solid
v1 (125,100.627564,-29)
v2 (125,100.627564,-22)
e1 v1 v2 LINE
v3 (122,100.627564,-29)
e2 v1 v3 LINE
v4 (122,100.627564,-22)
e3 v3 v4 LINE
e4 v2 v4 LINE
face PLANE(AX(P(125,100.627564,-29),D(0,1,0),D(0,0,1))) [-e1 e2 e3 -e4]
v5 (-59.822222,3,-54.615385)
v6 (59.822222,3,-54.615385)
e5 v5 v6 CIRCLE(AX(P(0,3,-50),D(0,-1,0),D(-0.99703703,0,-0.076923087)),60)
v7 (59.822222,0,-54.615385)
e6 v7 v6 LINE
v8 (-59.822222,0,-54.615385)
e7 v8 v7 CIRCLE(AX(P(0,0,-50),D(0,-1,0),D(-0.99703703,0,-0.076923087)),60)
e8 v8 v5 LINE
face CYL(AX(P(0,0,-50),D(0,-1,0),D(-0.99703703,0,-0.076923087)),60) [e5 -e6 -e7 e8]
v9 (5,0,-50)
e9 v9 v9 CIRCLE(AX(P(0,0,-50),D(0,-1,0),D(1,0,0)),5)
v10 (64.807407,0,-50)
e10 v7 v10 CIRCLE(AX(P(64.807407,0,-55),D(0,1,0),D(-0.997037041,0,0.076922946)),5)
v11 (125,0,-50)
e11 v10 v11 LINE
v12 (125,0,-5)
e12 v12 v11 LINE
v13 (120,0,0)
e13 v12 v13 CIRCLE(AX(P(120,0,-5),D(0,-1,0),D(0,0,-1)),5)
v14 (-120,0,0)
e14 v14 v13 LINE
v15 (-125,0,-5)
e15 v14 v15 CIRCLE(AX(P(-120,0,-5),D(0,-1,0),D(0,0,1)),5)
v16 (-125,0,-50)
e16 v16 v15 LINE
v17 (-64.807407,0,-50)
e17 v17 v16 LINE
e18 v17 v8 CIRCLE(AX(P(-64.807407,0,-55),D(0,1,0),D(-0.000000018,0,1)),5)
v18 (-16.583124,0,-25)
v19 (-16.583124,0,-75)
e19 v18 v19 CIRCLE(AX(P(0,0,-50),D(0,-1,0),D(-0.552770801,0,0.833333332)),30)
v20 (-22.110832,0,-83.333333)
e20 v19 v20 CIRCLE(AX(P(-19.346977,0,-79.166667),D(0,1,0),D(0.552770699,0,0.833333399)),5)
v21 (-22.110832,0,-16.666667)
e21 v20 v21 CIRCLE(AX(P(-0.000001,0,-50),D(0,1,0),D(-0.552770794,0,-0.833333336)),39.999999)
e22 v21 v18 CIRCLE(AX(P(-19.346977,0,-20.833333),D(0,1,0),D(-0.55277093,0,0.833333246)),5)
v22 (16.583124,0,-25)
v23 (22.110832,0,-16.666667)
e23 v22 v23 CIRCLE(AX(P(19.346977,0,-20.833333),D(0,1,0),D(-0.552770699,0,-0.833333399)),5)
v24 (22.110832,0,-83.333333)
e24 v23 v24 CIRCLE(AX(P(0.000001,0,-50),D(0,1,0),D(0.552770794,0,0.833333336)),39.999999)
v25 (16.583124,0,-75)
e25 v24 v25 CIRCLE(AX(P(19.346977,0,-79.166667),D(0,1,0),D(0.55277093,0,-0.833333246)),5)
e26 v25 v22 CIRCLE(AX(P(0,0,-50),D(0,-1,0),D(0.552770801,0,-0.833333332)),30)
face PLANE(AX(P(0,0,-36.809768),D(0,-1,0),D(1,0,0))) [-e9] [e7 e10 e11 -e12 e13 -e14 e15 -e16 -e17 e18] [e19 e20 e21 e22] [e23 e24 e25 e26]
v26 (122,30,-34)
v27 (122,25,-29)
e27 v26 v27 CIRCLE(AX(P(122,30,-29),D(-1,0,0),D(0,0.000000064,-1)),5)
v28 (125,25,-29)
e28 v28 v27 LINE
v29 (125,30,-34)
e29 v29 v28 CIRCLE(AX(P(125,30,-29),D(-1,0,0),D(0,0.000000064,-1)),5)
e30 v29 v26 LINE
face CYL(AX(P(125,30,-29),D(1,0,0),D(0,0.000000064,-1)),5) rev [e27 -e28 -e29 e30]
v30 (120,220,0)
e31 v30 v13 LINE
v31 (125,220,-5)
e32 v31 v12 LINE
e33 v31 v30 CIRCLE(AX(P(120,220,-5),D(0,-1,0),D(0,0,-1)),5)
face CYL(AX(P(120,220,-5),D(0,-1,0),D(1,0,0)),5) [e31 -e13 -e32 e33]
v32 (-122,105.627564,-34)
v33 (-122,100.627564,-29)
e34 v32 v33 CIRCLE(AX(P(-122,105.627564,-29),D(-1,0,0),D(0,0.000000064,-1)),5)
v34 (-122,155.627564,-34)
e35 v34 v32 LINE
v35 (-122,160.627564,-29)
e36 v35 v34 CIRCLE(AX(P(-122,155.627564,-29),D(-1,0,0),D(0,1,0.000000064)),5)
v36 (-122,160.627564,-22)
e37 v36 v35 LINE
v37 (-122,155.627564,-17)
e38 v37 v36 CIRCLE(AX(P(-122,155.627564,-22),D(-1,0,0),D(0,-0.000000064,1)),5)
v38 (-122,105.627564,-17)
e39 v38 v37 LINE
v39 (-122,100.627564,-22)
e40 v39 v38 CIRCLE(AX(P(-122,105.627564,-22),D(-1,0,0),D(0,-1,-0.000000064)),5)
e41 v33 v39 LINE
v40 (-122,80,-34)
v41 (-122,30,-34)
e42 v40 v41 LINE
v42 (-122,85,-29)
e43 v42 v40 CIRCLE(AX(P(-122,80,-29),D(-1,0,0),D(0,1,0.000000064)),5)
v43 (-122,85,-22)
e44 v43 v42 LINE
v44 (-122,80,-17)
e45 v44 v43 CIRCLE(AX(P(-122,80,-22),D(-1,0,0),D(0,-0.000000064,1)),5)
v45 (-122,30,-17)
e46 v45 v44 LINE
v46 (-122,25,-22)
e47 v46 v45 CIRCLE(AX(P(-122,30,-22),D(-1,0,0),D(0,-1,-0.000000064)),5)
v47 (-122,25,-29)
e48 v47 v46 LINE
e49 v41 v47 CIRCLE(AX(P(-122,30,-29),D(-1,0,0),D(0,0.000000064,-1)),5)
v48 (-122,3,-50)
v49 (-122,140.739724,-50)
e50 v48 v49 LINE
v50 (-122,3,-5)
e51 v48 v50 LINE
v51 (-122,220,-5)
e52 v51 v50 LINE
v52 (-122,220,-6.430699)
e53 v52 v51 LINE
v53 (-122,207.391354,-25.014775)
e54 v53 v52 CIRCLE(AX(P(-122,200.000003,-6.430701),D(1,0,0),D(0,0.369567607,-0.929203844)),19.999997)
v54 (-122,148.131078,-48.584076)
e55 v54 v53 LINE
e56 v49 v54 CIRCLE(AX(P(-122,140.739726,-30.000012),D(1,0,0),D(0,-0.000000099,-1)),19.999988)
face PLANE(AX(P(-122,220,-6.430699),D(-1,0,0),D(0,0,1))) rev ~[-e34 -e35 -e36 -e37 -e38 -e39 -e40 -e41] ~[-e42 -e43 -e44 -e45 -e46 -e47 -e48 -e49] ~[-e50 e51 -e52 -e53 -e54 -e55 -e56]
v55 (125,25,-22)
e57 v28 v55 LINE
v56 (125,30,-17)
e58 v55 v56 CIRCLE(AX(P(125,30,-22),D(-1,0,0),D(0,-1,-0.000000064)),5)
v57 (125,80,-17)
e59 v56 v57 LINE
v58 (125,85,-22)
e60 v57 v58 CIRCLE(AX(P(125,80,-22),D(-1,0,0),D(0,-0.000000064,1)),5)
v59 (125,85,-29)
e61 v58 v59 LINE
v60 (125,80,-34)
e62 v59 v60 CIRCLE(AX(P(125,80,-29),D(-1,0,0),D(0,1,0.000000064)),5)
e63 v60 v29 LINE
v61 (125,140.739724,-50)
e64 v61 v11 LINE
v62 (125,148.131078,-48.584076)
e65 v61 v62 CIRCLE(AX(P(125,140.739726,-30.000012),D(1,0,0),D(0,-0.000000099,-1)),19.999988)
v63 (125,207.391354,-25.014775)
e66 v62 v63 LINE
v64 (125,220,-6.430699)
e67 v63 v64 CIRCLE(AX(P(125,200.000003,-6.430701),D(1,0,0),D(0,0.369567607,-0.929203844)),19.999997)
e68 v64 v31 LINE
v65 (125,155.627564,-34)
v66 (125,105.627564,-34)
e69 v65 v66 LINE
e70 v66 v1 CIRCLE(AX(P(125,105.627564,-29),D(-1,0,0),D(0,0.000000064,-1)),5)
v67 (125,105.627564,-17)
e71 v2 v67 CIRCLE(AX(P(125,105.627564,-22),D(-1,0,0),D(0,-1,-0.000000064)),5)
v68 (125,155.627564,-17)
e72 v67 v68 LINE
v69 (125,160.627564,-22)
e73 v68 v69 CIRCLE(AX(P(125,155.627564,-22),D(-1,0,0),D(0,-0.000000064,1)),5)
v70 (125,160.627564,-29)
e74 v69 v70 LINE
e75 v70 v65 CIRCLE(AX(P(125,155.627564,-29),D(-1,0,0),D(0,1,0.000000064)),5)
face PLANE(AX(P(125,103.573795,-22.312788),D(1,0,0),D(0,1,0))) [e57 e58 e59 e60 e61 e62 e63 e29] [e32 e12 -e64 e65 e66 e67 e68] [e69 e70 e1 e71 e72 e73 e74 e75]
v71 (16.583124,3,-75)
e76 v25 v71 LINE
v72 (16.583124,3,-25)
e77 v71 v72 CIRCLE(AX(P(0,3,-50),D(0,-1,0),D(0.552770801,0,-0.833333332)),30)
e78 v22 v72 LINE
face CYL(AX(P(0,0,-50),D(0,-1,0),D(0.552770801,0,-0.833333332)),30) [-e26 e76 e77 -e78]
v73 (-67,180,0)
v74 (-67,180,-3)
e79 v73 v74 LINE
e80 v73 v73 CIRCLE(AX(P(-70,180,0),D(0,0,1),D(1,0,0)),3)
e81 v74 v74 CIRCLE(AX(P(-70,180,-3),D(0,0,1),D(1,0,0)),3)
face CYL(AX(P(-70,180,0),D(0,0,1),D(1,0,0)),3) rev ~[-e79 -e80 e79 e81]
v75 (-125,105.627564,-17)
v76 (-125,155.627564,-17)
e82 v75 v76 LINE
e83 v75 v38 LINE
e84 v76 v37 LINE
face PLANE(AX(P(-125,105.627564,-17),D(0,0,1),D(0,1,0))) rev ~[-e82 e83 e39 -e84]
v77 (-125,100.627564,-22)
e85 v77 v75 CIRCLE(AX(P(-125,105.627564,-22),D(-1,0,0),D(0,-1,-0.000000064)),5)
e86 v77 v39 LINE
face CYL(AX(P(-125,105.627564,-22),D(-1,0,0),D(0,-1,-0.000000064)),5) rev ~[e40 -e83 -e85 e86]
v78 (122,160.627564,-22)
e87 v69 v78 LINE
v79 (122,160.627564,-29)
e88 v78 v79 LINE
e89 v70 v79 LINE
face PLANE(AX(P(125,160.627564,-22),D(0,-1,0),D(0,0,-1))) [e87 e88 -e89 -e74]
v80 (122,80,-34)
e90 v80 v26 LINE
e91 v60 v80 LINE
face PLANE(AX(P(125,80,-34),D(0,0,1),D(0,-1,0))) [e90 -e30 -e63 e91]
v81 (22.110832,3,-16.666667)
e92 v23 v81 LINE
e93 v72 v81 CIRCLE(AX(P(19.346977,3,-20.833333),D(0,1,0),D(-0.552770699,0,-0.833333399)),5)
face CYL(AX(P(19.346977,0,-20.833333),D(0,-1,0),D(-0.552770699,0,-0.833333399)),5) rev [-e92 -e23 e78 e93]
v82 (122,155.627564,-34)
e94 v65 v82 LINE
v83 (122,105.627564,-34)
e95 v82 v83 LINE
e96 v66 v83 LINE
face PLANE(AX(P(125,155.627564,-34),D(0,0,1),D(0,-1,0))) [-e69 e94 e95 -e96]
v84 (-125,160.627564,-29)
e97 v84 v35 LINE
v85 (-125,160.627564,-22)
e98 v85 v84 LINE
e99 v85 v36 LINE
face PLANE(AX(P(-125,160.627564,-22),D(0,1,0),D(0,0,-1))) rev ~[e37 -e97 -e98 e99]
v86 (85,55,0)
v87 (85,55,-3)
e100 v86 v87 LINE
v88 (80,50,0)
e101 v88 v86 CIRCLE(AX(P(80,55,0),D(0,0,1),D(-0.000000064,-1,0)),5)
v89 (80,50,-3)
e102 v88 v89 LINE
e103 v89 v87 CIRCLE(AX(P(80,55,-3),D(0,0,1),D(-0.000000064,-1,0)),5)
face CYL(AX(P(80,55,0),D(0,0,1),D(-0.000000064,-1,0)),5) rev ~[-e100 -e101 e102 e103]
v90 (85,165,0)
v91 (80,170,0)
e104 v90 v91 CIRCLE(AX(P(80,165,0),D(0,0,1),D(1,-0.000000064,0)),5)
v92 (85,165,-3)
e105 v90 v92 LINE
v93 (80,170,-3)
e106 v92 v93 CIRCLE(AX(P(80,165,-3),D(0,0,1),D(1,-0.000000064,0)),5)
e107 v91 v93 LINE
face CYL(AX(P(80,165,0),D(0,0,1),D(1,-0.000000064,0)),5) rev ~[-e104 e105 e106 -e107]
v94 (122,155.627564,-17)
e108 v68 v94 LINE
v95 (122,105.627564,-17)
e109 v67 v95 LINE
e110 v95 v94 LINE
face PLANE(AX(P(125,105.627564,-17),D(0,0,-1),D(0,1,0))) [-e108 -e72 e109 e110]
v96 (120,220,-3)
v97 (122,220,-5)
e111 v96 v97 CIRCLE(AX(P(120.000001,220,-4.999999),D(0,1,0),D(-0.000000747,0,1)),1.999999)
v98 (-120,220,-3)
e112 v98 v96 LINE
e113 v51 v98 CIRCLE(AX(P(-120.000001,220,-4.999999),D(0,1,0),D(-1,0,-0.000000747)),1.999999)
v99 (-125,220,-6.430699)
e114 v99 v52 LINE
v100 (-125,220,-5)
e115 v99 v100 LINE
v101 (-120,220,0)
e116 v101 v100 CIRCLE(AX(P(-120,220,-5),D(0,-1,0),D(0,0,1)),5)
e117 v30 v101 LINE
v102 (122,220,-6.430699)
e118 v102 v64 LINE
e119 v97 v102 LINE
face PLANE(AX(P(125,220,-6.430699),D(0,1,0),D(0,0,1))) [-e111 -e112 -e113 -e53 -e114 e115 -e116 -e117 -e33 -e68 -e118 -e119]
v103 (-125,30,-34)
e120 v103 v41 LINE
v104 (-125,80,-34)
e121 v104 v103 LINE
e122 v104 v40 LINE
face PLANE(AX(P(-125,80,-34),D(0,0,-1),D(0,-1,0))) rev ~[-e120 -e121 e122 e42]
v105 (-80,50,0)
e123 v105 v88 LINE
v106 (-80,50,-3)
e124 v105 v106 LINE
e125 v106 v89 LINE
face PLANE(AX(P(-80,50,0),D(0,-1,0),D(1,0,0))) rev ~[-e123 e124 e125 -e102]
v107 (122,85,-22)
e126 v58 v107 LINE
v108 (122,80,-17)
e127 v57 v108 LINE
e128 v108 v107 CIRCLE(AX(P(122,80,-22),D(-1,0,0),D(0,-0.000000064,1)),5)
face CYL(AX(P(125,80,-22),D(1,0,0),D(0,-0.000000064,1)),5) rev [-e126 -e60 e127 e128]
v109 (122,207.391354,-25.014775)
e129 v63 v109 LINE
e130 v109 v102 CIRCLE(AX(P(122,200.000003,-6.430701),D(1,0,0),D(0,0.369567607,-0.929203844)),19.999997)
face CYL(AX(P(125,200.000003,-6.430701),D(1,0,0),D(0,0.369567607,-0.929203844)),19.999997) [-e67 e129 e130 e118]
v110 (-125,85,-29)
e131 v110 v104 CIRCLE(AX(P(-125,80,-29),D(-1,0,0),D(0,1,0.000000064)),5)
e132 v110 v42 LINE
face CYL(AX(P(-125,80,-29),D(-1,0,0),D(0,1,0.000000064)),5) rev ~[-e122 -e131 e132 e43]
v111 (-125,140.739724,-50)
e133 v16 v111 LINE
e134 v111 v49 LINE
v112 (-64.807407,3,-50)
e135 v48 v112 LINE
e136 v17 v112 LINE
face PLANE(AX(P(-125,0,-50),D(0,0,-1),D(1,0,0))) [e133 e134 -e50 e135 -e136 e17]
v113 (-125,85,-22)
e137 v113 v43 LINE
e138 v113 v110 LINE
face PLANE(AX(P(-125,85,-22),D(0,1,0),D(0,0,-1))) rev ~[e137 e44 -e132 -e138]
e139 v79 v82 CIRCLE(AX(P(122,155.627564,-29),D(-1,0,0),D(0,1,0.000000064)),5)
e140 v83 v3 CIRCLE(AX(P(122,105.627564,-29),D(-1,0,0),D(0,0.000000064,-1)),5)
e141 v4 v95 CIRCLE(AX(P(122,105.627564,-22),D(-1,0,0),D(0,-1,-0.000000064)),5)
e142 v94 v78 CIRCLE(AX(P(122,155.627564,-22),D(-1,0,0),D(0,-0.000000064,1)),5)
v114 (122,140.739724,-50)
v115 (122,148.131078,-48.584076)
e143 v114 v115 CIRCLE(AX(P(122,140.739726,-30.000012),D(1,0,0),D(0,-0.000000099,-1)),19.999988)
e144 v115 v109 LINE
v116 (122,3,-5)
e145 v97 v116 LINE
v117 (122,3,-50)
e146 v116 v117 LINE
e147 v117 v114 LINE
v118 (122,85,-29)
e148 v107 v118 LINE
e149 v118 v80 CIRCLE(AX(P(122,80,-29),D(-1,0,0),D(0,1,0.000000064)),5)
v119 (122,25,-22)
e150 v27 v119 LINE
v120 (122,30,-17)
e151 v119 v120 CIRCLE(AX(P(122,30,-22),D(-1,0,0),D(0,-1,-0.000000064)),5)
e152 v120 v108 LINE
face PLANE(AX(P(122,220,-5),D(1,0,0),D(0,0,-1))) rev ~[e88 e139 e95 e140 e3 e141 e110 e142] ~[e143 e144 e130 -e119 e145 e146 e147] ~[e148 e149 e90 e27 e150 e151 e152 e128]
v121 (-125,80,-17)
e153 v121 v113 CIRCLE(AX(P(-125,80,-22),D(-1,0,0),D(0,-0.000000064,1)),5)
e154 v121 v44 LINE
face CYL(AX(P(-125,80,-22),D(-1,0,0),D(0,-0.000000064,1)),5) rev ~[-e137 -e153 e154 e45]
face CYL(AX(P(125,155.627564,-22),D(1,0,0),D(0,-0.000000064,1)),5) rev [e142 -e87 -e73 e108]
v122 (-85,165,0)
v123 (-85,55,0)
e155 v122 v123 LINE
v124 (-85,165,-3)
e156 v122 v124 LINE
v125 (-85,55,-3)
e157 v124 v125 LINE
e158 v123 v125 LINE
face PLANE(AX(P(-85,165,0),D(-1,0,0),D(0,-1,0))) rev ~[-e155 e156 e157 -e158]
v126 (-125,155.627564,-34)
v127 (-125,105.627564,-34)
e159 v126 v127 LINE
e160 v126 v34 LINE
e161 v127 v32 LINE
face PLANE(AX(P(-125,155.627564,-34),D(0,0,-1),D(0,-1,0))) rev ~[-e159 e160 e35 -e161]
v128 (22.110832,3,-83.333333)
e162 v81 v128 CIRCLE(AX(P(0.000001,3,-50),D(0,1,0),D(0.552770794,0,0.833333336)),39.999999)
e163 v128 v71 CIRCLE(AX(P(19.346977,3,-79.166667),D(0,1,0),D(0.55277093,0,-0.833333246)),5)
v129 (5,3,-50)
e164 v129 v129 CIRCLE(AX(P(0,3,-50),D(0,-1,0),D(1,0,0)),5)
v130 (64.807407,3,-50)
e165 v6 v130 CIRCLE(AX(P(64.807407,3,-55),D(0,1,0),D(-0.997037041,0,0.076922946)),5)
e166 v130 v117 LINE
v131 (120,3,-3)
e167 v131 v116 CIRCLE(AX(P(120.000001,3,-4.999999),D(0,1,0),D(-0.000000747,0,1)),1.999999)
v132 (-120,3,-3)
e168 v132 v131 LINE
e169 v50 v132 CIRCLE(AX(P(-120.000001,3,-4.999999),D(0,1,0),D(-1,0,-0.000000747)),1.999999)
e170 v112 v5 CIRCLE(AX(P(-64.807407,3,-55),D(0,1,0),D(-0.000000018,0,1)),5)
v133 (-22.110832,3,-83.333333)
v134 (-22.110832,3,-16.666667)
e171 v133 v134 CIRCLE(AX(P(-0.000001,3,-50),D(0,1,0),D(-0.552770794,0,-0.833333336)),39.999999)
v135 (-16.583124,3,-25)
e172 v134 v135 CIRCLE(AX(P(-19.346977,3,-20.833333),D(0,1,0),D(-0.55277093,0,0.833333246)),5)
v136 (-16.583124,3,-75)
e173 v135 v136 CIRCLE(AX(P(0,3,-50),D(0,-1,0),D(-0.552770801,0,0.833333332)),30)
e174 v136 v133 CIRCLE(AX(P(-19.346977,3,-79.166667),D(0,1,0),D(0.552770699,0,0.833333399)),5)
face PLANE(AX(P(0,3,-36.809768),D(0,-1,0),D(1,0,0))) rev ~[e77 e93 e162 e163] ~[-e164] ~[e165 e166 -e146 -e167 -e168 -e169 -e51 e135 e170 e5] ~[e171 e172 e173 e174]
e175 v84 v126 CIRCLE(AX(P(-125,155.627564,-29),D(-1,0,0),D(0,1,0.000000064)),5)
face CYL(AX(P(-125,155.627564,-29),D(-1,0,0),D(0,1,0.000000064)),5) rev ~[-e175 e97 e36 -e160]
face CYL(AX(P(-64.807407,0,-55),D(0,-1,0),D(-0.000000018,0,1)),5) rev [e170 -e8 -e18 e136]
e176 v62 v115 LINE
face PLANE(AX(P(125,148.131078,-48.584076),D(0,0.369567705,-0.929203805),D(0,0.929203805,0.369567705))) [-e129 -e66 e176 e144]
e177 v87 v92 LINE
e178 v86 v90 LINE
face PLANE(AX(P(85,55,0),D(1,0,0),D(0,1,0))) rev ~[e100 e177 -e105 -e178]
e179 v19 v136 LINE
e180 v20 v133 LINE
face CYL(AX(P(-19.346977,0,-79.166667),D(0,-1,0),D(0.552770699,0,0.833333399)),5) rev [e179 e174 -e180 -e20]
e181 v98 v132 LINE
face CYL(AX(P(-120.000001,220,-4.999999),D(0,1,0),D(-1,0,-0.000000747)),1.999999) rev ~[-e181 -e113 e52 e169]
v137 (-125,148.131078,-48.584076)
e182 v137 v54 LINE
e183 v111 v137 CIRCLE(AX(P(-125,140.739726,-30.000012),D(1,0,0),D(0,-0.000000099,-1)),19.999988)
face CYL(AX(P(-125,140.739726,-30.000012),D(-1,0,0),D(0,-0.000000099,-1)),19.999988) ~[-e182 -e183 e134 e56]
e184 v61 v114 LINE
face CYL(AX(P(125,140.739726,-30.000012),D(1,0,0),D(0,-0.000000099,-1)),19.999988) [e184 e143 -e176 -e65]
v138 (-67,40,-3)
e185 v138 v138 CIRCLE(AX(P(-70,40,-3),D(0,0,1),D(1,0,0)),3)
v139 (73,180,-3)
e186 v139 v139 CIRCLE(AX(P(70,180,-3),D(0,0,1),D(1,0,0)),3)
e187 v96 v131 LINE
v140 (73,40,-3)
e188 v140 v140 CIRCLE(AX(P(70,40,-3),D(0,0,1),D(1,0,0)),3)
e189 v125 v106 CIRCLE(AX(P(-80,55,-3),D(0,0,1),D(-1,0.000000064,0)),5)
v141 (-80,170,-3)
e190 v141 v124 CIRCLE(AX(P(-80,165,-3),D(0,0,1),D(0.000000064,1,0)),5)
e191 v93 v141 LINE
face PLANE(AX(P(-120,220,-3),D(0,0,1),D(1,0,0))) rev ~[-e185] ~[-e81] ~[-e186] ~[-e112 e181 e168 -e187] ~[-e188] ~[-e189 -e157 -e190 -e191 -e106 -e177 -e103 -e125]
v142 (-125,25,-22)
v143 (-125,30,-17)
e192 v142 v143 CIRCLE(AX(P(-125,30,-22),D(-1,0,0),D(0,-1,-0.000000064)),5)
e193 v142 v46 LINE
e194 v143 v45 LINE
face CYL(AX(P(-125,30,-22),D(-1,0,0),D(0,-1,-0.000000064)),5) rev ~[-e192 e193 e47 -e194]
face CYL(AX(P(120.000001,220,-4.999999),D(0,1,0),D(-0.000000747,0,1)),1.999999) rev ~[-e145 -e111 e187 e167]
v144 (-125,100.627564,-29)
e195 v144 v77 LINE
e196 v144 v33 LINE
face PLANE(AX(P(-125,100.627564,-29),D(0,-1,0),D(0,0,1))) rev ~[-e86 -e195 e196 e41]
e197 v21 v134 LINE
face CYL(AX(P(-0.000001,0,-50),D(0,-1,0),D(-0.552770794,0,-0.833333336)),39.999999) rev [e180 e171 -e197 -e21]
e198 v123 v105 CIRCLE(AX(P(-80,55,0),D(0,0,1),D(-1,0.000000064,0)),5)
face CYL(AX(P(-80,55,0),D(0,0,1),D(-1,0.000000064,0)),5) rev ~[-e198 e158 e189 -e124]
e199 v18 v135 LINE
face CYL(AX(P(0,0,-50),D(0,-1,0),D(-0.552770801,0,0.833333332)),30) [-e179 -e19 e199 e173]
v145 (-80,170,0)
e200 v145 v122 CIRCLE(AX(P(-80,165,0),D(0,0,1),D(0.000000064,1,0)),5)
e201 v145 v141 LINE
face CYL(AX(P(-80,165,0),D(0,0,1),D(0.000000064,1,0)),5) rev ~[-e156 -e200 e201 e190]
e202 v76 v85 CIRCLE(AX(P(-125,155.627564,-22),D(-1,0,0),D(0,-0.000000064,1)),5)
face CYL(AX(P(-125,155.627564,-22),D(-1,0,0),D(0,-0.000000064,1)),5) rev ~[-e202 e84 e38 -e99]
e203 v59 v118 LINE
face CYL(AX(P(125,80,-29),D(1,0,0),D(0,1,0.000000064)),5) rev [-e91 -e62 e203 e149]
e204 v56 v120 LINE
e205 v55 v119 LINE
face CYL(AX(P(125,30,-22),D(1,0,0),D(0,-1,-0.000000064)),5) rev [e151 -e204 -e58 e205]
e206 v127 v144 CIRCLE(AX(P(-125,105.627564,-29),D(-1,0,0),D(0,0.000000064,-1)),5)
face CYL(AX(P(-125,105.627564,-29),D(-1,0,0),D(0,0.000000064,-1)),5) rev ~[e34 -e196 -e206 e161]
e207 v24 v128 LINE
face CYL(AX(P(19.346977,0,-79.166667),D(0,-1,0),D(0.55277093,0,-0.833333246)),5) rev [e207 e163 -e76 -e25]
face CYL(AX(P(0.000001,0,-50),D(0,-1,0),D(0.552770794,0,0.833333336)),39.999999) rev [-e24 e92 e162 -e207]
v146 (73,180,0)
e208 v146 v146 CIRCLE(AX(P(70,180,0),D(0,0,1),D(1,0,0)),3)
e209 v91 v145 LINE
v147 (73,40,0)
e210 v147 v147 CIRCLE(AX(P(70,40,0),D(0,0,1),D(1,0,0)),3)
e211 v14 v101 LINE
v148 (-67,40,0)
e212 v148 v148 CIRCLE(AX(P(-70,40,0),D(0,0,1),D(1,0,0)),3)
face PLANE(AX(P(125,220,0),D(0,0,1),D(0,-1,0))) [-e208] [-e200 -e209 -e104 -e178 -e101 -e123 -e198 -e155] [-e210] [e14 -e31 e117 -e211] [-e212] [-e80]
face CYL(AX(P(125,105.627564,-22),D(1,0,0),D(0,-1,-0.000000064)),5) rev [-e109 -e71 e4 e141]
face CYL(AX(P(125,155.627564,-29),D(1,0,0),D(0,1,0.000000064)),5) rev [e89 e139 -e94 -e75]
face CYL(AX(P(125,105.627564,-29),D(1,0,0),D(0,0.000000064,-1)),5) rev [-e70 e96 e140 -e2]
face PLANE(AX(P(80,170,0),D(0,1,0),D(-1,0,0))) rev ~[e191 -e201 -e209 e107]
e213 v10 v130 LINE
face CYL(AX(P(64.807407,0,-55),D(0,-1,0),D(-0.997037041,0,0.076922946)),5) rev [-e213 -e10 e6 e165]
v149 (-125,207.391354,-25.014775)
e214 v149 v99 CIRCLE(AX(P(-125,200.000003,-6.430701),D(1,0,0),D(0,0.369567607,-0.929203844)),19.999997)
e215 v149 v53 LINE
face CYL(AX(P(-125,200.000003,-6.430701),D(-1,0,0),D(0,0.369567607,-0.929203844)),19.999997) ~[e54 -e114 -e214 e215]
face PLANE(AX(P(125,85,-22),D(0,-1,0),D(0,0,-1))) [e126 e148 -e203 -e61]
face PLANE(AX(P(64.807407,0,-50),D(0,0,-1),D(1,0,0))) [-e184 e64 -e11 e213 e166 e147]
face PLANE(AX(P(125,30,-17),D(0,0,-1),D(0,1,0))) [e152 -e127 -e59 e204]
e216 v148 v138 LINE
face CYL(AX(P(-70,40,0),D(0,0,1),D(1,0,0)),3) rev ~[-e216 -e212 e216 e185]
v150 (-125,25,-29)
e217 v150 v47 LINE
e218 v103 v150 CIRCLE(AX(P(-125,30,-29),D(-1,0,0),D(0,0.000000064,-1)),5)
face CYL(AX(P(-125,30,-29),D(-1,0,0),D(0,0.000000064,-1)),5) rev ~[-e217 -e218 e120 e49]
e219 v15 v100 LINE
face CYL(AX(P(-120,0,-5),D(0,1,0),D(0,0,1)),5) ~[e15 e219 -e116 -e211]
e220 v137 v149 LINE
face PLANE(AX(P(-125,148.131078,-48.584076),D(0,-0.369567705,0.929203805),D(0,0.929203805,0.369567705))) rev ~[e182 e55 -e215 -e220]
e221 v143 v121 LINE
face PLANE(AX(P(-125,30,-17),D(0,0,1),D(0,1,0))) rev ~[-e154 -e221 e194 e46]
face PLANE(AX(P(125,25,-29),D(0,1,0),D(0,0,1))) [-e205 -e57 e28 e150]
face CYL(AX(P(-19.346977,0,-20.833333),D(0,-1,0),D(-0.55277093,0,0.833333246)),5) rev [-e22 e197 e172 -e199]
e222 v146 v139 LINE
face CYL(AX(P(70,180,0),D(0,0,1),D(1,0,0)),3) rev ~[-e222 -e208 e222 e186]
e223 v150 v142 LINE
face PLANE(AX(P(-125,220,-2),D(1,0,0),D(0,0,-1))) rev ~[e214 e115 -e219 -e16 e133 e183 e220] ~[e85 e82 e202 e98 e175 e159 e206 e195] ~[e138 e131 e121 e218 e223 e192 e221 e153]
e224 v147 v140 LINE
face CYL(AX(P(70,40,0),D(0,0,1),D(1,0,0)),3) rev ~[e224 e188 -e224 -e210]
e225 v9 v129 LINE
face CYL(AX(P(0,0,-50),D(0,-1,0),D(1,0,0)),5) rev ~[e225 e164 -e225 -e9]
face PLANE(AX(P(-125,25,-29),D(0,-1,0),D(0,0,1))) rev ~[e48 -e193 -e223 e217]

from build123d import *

# Parameters (mm, degrees)
F7_DEPTH  = 220
F8_DEPTH  = 3
F9_DEPTH  = 3
F0_R      = 5
F10_DEPTH = 3
F11_R     = 5
F12_R     = 5
F13_R     = 3
F14_DEPTH = 25


with BuildPart() as f7:
    # F4 (on offset) → F7 (new body)
    with BuildSketch(Plane.XZ.offset(-220)):
        with BuildLine():
            Line((125, -6.430699), (125, -2))
            ThreePointArc((125, -2), (124.414214, -0.585786), (123, 0))
            Line((123, 0), (-123, 0))
            ThreePointArc((-123, 0), (-124.414214, -0.585786), (-125, -2))
            Line((-125, -2), (-125, -6.430699))
            Line((-125, -6.430699), (-122, -6.430699))
            Line((-122, -6.430699), (-122, -5))
            ThreePointArc((-122, -5), (-121.414214, -3.585786), (-120, -3))
            Line((-120, -3), (120, -3))
            ThreePointArc((120, -3), (121.414214, -3.585786), (122, -5))
            Line((122, -5), (122, -6.430699))
            Line((122, -6.430699), (125, -6.430699))
        make_face()
    extrude(amount=F7_DEPTH)

    # F6 (on offset) → F8 (join)
    with BuildSketch(Plane.YZ.offset(-125)):
        with BuildLine():
            Line((220, -6.430699), (220, 0))
            Line((220, 0), (0, 0))
            Line((0, 0), (0, -50))
            Line((0, -50), (140.739724, -50))
            ThreePointArc((140.739724, -50), (144.5026, -49.64283), (148.131078, -48.584076))
            Line((148.131078, -48.584076), (207.391354, -25.014775))
            ThreePointArc((207.391354, -25.014775), (216.550334, -17.659522), (220, -6.430699))
        make_face()
        with BuildLine():
            ThreePointArc((25, -22), (26.464466, -18.464466), (30, -17))
            Line((30, -17), (80, -17))
            ThreePointArc((80, -17), (83.535534, -18.464466), (85, -22))
            Line((85, -22), (85, -29))
            ThreePointArc((85, -29), (83.535534, -32.535534), (80, -34))
            Line((80, -34), (30, -34))
            ThreePointArc((30, -34), (26.464466, -32.535534), (25, -29))
            Line((25, -29), (25, -22))
        make_face(mode=Mode.SUBTRACT)
        with BuildLine():
            ThreePointArc((100.627564, -22), (102.09203, -18.464466), (105.627564, -17))
            Line((105.627564, -17), (155.627564, -17))
            ThreePointArc((155.627564, -17), (159.163098, -18.464466), (160.627564, -22))
            Line((160.627564, -22), (160.627564, -29))
            ThreePointArc((160.627564, -29), (159.163098, -32.535534), (155.627564, -34))
            Line((155.627564, -34), (105.627564, -34))
            ThreePointArc((105.627564, -34), (102.09203, -32.535534), (100.627564, -29))
            Line((100.627564, -29), (100.627564, -22))
        make_face(mode=Mode.SUBTRACT)
    extrude(amount=F8_DEPTH)

    # F2 (on offset) → F9 (join)
    with BuildSketch(Plane.YZ.offset(125)):
        with BuildLine():
            Line((220, 0), (0, 0))
            Line((0, 0), (0, -50))
            Line((0, -50), (140.739724, -50))
            ThreePointArc((140.739724, -50), (144.5026, -49.64283), (148.131078, -48.584076))
            Line((148.131078, -48.584076), (207.391354, -25.014775))
            ThreePointArc((207.391354, -25.014775), (216.550334, -17.659522), (220, -6.430699))
            Line((220, -6.430699), (220, 0))
        make_face()
        with BuildLine():
            ThreePointArc((25, -22), (26.464466, -18.464466), (30, -17))
            Line((30, -17), (80, -17))
            ThreePointArc((80, -17), (83.535534, -18.464466), (85, -22))
            Line((85, -22), (85, -29))
            ThreePointArc((85, -29), (83.535534, -32.535534), (80, -34))
            Line((80, -34), (30, -34))
            ThreePointArc((30, -34), (26.464466, -32.535534), (25, -29))
            Line((25, -29), (25, -22))
        make_face(mode=Mode.SUBTRACT)
        with BuildLine():
            ThreePointArc((100.627564, -22), (102.09203, -18.464466), (105.627564, -17))
            Line((105.627564, -17), (155.627564, -17))
            ThreePointArc((155.627564, -17), (159.163098, -18.464466), (160.627564, -22))
            Line((160.627564, -22), (160.627564, -29))
            ThreePointArc((160.627564, -29), (159.163098, -32.535534), (155.627564, -34))
            Line((155.627564, -34), (105.627564, -34))
            ThreePointArc((105.627564, -34), (102.09203, -32.535534), (100.627564, -29))
            Line((100.627564, -29), (100.627564, -22))
        make_face(mode=Mode.SUBTRACT)
    extrude(amount=-F9_DEPTH)

    # F0 (on Front) → F10 (join)
    with BuildSketch(Plane.XZ):
        with BuildLine():
            ThreePointArc((-64.807407, -50), (-61.410576, -51.331003), (-59.822222, -54.615385))
            ThreePointArc((-59.822222, -54.615385), (0, -110), (59.822222, -54.615385))
            ThreePointArc((59.822222, -54.615385), (61.410576, -51.331003), (64.807407, -50))
            Line((64.807407, -50), (125, -50))
            Line((125, -50), (125, 0))
            Line((125, 0), (-125, 0))
            Line((-125, 0), (-125, -50))
            Line((-125, -50), (-64.807407, -50))
        make_face()
        with BuildLine():
            ThreePointArc((-16.583124, -25), (-30, -50), (-16.583124, -75))
            ThreePointArc((-16.583124, -75), (-15.180311, -81.930521), (-22.110832, -83.333333))
            ThreePointArc((-22.110832, -83.333333), (-40, -50), (-22.110832, -16.666667))
            ThreePointArc((-22.110832, -16.666667), (-15.180311, -18.069479), (-16.583124, -25))
        make_face(mode=Mode.SUBTRACT)
        with Locations((0, -50)):
            Circle(F0_R, mode=Mode.SUBTRACT)
        with BuildLine():
            ThreePointArc((22.110832, -83.333333), (15.180311, -81.930521), (16.583124, -75))
            ThreePointArc((16.583124, -75), (30, -50), (16.583124, -25))
            ThreePointArc((16.583124, -25), (15.180311, -18.069479), (22.110832, -16.666667))
            ThreePointArc((22.110832, -16.666667), (40, -50), (22.110832, -83.333333))
        make_face(mode=Mode.SUBTRACT)
    extrude(amount=-F10_DEPTH)

    # F11
    f11_edges = [f7.edges().sort_by_distance(p)[0] for p in [
        (125, 110, 0),
    ]]
    fillet(f11_edges, radius=F11_R)

    # F12
    f12_edges = [f7.edges().sort_by_distance(p)[0] for p in [
        (-125, 110, 0),
    ]]
    fillet(f12_edges, radius=F12_R)

    # F13 (on face) → F14 (cut)
    with BuildSketch(Plane.XY):
        with BuildLine():
            Line((-80, 50), (80, 50))
            ThreePointArc((80, 50), (83.535534, 51.464466), (85, 55))
            Line((85, 55), (85, 165))
            ThreePointArc((85, 165), (83.535534, 168.535534), (80, 170))
            Line((80, 170), (-80, 170))
            ThreePointArc((-80, 170), (-83.535534, 168.535534), (-85, 165))
            Line((-85, 165), (-85, 55))
            ThreePointArc((-85, 55), (-83.535534, 51.464466), (-80, 50))
        make_face()
        with Locations((-70, 180)):
            Circle(F13_R)
        with Locations((-70, 40)):
            Circle(F13_R)
        with Locations((70, 40)):
            Circle(F13_R)
        with Locations((70, 180)):
            Circle(F13_R)
    extrude(amount=-F14_DEPTH, mode=Mode.SUBTRACT)


solid = f7.part
